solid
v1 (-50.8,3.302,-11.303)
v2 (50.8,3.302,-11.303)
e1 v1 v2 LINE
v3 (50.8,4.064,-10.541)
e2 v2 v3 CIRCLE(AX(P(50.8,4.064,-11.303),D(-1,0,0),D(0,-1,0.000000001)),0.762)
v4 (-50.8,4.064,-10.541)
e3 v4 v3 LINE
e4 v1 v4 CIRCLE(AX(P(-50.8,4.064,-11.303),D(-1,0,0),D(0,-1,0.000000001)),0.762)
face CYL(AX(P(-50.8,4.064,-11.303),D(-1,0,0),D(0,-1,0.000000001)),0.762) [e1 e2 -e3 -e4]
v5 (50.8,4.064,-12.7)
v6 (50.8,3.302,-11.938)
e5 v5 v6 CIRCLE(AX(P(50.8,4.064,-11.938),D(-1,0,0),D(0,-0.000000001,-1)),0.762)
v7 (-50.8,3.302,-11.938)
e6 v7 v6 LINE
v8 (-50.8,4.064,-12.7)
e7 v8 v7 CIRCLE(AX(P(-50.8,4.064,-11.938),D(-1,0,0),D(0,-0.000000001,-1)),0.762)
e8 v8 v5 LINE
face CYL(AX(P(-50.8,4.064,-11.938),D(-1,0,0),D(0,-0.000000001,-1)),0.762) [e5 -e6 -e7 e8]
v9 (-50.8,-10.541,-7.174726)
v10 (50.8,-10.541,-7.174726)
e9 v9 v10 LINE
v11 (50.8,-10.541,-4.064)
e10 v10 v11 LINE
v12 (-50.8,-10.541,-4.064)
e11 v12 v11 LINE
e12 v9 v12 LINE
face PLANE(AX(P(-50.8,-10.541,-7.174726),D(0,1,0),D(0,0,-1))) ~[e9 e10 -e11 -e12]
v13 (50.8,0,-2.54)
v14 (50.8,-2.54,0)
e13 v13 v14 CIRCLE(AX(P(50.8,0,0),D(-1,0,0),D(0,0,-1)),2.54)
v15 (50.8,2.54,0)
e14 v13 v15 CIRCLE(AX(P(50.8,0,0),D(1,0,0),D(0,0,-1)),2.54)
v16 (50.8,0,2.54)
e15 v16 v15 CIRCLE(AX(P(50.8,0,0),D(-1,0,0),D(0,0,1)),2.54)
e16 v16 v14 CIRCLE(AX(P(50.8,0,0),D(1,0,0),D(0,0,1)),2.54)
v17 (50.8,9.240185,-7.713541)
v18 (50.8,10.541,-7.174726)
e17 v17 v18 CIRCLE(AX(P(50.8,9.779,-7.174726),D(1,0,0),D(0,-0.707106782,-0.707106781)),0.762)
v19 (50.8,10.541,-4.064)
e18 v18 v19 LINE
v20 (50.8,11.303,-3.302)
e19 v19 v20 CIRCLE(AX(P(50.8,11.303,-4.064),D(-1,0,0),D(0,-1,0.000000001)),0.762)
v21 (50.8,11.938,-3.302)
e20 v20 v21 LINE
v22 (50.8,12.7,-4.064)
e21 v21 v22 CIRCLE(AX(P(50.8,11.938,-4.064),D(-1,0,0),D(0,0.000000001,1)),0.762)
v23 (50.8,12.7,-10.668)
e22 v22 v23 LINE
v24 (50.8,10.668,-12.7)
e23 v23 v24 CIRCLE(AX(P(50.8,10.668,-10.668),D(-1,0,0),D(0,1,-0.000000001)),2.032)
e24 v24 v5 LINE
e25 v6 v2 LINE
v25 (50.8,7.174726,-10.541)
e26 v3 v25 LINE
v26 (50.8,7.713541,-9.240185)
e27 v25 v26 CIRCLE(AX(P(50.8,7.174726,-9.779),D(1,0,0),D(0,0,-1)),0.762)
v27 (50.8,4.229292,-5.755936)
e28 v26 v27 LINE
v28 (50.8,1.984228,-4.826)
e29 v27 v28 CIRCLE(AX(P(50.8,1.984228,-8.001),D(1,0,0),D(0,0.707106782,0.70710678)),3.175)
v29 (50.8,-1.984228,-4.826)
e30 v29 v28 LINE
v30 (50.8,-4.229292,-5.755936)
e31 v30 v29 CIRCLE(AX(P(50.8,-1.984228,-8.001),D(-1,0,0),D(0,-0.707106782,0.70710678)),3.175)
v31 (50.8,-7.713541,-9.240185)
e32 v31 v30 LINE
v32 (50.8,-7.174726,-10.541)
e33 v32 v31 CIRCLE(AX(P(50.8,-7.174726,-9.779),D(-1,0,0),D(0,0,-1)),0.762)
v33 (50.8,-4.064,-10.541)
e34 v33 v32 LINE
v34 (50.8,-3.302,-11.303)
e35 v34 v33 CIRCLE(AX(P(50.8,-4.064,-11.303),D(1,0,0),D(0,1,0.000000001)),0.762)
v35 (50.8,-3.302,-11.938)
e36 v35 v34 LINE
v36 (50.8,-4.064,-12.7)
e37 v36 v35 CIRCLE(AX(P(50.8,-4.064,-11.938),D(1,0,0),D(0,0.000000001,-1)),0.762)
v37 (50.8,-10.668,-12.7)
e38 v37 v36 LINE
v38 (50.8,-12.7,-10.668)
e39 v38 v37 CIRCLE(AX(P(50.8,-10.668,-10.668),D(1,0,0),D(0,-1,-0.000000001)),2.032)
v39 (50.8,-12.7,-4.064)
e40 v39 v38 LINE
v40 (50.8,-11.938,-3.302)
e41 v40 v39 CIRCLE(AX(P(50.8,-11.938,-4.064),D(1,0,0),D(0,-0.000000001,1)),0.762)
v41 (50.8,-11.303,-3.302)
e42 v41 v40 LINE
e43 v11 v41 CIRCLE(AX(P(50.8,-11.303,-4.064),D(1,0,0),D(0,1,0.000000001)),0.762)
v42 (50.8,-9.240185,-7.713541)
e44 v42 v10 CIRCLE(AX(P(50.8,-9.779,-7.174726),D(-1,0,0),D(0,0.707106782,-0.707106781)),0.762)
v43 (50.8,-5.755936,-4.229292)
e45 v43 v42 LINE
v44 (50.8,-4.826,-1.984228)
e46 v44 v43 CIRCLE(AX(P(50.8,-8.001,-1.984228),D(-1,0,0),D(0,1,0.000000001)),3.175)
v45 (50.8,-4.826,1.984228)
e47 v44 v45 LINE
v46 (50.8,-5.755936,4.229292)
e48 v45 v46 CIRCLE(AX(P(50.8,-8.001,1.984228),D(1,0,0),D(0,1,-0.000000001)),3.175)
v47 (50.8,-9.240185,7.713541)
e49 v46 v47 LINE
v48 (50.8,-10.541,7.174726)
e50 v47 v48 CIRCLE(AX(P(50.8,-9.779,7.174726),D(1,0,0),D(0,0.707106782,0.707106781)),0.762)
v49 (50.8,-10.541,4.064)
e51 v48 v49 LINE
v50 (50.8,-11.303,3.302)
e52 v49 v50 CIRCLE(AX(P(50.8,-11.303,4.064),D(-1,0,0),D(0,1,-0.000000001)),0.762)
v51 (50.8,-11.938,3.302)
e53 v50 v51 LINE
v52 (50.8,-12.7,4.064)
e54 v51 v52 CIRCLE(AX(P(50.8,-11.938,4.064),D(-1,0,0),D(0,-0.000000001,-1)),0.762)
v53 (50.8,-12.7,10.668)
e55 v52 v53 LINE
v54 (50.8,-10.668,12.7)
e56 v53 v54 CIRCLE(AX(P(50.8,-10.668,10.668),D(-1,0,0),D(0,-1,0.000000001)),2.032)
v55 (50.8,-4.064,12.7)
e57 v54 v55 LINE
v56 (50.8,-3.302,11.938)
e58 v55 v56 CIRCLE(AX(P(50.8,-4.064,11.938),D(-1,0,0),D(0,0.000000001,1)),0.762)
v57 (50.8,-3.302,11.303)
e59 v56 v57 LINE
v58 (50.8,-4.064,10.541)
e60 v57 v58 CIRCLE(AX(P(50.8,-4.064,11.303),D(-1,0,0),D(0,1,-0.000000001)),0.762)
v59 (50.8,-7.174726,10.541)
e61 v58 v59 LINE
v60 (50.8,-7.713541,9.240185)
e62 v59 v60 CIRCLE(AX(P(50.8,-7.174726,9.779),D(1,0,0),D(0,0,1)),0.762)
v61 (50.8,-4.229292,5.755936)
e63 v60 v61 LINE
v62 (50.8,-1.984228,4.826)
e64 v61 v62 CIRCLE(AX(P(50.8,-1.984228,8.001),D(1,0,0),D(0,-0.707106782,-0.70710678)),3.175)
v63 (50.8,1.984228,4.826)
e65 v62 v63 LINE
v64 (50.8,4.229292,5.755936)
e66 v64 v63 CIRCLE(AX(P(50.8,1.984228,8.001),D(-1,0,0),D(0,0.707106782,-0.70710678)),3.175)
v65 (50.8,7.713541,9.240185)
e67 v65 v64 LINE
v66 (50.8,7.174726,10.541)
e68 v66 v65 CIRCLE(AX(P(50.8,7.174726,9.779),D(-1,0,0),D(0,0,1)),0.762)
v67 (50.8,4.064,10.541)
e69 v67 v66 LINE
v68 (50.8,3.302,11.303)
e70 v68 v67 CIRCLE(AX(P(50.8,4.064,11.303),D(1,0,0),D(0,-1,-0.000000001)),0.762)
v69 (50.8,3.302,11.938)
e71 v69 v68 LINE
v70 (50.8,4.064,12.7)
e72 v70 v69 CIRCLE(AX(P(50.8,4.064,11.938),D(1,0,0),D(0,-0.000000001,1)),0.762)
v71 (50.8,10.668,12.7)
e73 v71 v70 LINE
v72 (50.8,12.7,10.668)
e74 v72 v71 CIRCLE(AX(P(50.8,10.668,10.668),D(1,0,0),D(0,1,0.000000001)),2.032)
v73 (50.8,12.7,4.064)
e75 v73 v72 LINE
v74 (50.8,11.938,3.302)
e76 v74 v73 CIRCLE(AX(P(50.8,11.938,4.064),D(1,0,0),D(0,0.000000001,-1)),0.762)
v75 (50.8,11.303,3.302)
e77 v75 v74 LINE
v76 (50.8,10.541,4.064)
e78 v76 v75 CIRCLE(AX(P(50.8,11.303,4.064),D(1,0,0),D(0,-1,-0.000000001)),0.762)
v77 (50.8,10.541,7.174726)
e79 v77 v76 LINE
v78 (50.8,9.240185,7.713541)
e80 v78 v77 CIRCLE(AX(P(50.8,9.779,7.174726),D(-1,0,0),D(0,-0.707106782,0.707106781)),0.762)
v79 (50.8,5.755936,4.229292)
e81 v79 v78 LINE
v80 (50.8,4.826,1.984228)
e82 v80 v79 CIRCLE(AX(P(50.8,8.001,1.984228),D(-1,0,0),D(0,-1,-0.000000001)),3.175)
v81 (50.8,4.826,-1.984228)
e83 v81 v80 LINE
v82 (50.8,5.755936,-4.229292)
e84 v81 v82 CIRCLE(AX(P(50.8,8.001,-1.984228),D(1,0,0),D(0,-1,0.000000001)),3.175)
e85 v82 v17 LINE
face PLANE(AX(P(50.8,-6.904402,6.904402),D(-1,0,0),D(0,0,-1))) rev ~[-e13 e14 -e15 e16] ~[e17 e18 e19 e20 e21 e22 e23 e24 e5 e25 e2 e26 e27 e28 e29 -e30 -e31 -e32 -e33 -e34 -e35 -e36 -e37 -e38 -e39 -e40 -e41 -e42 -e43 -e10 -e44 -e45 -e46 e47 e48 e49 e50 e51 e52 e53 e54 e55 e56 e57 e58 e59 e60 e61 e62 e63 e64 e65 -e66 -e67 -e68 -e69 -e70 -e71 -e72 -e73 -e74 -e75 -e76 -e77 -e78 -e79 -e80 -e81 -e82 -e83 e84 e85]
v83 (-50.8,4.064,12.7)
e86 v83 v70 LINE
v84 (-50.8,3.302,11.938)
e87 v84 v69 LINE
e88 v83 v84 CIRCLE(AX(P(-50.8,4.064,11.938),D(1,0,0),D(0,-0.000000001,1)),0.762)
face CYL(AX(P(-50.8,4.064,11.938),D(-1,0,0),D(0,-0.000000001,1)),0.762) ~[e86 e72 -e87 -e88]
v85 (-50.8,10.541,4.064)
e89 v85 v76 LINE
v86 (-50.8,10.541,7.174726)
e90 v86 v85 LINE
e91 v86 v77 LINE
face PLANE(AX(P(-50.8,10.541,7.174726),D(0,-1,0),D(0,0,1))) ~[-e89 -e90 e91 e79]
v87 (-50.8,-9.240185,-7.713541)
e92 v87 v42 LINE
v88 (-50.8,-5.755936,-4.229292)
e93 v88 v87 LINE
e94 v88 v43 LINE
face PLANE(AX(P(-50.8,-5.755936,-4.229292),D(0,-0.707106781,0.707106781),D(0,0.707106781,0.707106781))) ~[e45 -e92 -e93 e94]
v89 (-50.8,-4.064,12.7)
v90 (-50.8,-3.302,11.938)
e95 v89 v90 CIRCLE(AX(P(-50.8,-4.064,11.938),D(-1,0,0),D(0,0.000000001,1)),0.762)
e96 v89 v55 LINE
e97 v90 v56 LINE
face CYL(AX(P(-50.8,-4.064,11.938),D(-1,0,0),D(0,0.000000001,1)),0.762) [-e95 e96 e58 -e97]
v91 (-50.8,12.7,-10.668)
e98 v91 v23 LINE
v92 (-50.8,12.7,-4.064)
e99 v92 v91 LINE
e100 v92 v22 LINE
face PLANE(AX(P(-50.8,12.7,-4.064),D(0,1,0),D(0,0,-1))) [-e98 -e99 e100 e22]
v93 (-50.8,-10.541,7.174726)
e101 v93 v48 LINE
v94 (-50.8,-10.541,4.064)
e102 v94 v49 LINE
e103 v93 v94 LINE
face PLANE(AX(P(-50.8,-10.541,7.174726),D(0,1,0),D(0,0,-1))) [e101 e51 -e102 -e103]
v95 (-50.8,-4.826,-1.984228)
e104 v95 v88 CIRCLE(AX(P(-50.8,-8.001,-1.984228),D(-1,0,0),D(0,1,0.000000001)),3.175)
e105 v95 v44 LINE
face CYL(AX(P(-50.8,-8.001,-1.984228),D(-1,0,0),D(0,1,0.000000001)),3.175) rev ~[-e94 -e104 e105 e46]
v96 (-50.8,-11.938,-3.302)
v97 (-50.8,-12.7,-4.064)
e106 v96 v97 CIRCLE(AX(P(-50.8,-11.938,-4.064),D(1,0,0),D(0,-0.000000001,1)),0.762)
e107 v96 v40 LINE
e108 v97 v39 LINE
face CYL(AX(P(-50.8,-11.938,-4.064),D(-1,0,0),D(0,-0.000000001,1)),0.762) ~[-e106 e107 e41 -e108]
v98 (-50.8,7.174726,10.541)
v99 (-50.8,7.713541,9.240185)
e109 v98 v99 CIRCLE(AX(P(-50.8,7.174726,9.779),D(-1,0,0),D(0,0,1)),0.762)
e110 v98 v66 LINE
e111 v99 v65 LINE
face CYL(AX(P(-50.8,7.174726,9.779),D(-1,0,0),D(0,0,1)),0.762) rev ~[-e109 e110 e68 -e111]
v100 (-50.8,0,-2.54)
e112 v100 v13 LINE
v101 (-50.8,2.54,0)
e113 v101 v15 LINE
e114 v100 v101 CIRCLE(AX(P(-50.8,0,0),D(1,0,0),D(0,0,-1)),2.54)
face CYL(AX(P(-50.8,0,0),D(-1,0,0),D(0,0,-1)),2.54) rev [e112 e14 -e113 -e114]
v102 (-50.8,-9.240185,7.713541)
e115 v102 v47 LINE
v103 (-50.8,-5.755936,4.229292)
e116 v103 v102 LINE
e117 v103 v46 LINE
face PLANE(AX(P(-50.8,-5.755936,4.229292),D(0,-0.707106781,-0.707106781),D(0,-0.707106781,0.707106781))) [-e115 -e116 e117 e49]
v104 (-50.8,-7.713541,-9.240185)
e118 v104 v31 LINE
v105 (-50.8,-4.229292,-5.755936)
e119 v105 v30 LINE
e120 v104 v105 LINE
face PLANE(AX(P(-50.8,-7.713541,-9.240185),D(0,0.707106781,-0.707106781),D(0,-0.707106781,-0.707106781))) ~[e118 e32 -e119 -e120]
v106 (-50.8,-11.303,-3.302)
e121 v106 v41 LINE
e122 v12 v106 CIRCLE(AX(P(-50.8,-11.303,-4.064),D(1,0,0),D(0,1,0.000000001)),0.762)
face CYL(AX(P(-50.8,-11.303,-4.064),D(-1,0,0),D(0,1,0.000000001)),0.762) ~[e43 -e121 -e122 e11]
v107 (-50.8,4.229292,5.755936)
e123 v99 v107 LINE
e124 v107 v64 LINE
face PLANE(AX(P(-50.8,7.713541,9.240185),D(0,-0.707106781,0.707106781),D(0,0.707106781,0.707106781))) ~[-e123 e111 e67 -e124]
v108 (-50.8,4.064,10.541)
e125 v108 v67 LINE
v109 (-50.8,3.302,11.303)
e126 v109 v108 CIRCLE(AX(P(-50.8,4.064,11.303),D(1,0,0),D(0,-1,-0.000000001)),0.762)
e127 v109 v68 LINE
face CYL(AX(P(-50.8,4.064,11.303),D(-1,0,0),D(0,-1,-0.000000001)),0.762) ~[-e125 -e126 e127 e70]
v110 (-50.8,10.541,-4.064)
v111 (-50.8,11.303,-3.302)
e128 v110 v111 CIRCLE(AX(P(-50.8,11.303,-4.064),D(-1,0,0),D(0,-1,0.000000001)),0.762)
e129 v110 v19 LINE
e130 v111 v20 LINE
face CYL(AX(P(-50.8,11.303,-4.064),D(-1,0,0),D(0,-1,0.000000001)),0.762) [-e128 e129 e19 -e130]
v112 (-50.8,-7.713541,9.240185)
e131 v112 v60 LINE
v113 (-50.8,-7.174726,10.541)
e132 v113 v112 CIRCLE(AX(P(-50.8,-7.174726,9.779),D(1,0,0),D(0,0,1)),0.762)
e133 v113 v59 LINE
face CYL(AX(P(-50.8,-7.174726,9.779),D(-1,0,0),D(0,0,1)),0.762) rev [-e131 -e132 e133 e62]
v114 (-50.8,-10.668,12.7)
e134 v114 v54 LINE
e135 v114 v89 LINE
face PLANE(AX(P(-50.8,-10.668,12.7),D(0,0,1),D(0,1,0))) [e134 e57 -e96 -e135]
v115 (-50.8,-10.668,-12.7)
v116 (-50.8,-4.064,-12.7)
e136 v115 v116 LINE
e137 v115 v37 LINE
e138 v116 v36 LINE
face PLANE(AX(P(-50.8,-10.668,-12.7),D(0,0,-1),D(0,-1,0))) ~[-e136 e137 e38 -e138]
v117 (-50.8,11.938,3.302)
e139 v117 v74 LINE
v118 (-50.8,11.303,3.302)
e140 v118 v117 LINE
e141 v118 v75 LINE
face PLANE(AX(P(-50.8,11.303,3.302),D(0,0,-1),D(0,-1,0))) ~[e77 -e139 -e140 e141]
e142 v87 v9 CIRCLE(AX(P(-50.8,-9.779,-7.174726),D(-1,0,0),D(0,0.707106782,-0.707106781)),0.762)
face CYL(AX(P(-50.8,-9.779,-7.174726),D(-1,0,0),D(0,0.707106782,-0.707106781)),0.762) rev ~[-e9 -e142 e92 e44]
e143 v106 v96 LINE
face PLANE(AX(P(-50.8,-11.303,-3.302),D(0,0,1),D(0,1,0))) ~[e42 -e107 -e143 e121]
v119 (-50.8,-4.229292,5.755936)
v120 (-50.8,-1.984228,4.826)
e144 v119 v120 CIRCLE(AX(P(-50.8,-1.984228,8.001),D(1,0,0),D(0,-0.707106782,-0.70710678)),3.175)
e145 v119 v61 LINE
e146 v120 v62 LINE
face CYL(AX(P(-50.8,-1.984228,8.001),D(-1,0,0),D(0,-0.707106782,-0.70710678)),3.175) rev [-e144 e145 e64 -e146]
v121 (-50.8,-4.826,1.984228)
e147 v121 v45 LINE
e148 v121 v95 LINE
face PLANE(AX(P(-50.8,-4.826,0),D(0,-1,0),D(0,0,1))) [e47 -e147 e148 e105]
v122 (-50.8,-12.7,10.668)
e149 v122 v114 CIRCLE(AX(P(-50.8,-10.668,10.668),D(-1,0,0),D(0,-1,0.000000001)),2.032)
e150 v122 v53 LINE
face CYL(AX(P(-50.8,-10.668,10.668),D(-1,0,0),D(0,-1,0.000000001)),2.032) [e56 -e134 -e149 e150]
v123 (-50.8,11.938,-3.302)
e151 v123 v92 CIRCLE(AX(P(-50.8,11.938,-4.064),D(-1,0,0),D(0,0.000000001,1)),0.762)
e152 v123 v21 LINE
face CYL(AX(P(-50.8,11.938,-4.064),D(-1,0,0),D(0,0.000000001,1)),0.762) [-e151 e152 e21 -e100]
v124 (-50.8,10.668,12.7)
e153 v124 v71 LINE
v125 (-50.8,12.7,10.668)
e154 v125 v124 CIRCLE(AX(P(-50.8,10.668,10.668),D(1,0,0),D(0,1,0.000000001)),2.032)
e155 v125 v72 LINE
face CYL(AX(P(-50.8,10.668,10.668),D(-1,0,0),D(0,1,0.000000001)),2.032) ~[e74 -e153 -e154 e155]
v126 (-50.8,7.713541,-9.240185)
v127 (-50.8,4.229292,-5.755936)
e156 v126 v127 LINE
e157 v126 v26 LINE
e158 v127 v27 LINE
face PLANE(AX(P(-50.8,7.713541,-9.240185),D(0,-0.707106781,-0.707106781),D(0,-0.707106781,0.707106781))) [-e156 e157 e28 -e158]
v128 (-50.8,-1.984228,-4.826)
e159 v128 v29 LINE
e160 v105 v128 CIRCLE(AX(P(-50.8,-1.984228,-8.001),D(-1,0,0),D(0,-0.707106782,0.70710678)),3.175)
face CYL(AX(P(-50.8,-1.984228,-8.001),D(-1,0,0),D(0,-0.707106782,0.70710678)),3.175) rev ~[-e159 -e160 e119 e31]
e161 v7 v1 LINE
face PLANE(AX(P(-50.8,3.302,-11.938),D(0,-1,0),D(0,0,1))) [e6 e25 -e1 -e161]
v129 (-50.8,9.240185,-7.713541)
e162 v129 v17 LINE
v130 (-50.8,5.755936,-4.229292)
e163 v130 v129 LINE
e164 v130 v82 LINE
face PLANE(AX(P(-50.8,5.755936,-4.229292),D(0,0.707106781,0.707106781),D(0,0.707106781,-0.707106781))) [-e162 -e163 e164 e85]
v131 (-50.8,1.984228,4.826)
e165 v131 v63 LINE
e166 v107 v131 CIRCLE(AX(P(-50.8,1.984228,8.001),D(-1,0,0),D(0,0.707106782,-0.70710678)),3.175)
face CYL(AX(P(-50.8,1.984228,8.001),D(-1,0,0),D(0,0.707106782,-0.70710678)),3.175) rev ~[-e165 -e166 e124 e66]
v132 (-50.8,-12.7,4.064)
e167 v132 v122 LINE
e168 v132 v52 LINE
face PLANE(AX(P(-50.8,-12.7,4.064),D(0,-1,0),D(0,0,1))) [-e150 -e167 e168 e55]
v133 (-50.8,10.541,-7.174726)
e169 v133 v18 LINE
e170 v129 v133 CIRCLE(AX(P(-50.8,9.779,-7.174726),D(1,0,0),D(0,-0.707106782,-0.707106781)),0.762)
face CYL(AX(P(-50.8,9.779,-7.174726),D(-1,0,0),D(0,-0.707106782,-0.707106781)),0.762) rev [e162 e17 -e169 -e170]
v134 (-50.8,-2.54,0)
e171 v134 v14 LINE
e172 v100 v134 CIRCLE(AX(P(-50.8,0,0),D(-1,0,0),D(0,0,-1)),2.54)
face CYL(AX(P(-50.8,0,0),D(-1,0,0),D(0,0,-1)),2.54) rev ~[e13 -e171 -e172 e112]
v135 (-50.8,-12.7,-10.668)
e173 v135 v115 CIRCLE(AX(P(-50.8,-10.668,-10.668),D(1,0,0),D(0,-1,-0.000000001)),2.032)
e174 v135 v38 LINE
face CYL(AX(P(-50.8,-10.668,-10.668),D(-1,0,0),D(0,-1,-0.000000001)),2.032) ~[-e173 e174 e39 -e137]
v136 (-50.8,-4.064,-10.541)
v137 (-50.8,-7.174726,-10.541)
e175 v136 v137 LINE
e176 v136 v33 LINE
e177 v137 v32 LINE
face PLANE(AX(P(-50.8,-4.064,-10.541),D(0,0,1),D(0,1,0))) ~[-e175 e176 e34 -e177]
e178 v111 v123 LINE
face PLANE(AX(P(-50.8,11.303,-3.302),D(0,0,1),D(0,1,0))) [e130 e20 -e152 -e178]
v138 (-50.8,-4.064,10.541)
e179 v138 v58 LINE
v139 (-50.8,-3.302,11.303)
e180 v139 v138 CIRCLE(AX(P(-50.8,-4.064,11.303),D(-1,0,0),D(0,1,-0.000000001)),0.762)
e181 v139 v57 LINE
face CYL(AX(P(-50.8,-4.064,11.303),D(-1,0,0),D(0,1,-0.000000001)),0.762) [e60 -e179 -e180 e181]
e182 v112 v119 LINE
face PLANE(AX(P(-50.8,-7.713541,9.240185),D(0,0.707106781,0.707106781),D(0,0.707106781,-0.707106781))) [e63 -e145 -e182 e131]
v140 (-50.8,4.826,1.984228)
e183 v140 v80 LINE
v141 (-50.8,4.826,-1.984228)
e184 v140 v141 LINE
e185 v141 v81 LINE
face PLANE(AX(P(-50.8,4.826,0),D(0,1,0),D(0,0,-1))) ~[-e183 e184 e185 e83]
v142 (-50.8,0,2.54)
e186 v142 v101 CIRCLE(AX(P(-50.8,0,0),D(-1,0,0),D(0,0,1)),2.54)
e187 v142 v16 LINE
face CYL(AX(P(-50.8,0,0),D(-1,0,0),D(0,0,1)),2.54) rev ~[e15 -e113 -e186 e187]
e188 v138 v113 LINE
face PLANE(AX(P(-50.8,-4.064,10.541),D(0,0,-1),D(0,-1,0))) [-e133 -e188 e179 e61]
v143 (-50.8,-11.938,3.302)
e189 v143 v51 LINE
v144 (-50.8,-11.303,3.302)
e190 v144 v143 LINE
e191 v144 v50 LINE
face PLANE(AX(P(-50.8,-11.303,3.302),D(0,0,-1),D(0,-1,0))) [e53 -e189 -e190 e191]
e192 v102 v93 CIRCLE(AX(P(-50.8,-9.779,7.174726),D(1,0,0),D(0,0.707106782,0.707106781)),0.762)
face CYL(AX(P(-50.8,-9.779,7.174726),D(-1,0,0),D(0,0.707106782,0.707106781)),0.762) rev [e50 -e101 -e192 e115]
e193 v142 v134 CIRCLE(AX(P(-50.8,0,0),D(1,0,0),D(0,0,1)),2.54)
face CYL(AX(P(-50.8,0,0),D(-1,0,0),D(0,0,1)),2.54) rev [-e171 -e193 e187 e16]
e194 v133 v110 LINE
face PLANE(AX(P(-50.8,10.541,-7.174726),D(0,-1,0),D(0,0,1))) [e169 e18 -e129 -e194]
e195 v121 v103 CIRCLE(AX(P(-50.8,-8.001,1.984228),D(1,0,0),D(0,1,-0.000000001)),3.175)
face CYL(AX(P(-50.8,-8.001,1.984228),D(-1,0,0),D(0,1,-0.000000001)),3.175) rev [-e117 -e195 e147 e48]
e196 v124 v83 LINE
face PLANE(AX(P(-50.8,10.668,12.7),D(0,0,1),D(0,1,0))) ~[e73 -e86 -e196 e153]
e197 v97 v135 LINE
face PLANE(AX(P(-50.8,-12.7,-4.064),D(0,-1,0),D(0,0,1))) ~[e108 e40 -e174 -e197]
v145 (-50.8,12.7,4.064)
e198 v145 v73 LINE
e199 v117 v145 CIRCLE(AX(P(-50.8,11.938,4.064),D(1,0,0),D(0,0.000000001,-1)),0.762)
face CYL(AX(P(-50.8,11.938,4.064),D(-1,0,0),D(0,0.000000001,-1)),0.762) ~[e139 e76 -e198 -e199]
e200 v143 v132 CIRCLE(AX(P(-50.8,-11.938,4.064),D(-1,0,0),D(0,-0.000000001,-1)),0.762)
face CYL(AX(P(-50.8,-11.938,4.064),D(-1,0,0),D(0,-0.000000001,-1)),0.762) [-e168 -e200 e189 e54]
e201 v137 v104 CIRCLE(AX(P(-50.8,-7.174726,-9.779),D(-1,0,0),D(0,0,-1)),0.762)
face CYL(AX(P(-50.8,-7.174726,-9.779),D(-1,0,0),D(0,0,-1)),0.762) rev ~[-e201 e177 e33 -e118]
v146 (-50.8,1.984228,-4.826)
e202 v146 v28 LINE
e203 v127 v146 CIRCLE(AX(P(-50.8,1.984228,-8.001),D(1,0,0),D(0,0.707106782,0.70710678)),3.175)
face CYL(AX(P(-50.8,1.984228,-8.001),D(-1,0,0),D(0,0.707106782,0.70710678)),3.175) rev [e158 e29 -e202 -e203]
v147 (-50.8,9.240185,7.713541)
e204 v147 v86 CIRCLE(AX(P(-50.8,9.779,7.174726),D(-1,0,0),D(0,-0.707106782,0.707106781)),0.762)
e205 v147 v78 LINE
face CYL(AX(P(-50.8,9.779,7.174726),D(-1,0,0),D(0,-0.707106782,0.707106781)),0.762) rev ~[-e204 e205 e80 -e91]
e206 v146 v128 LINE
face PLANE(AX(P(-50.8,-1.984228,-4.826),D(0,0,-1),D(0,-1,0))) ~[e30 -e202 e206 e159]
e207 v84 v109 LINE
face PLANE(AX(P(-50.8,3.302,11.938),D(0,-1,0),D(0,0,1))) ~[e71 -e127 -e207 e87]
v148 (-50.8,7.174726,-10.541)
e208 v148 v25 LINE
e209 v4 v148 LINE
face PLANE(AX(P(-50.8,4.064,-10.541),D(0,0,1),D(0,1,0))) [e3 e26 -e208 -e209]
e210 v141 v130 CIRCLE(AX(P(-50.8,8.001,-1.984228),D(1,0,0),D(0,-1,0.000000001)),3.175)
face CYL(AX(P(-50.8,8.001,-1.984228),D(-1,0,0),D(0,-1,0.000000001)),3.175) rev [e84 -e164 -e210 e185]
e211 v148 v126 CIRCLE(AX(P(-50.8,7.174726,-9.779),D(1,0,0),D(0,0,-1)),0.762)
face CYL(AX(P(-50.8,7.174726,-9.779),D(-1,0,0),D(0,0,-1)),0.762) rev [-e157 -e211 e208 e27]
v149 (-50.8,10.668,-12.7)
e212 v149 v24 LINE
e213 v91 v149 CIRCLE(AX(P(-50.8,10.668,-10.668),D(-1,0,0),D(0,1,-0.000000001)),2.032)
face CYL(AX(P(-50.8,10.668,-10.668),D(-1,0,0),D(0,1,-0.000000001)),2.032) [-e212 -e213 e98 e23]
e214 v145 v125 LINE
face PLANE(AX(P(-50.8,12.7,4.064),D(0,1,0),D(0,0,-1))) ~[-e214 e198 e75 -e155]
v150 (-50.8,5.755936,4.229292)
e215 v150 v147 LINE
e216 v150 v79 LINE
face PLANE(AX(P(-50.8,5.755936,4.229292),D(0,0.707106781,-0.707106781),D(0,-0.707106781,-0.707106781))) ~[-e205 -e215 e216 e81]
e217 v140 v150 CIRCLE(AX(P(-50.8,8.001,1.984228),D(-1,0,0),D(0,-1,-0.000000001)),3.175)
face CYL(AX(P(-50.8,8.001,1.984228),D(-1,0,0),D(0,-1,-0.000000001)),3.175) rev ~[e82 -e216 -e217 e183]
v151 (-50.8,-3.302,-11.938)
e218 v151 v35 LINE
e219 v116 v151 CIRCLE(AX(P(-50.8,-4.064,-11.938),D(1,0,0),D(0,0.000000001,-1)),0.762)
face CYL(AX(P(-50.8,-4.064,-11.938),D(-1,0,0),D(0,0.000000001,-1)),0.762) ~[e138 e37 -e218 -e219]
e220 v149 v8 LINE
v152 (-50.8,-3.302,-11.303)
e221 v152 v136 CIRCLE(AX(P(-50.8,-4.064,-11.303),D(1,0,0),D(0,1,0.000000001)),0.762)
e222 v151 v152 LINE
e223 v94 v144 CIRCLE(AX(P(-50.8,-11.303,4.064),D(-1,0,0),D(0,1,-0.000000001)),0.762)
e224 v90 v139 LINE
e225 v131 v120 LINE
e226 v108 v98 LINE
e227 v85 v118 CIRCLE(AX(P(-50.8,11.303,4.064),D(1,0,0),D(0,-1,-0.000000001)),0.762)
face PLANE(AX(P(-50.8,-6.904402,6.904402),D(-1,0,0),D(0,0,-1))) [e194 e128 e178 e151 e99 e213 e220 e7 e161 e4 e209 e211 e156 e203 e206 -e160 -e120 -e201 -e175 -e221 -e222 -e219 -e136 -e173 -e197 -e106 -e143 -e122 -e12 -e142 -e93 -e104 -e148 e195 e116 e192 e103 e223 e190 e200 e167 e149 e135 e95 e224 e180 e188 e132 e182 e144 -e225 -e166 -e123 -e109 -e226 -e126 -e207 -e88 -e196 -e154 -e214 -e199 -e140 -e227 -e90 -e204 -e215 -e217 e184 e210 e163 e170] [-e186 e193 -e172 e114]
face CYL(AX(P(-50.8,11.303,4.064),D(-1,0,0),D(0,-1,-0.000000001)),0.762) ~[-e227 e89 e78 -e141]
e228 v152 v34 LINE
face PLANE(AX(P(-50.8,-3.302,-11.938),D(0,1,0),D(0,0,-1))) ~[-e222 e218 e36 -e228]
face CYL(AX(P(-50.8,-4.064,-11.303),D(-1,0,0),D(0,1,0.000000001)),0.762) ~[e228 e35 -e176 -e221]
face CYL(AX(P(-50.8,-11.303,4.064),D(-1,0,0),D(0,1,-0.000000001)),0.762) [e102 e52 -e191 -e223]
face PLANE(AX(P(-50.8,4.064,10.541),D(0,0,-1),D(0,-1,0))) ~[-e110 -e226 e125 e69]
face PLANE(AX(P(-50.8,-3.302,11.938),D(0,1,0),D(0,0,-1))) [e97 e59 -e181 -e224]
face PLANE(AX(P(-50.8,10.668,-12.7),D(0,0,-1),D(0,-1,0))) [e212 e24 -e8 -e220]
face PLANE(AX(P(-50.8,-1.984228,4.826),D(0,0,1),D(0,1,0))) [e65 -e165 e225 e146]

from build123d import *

# Parameters (mm, degrees)
BOSS_EXTRUDE1_DEPTH      = 50.8
BOSS_EXTRUDE1_DEPTH_BACK = 50.8


with BuildPart() as part:
    # Sketch3 → Boss-Extrude1 (new, two sides: drawn at the far end of the back side and taken through both)
    with BuildSketch(Plane(origin=(0, 0, 0), x_dir=(0, 0, -1), z_dir=(1, 0, 0)).offset(-BOSS_EXTRUDE1_DEPTH_BACK)):
        with BuildLine():
            Line((0, 4.826), (1.984228399, 4.826))
            ThreePointArc((1.984228399, 4.826), (3.199248297, 5.067682484), (4.229292429, 5.75593597))
            Line((4.229292429, 5.75593597), (7.713541092, 9.240184633))
            ThreePointArc((7.713541092, 9.240184633), (7.878721929, 10.070604775), (7.174725725, 10.541))
            Line((7.174725725, 10.541), (4.064, 10.541))
            ThreePointArc((4.064, 10.541), (3.525184633, 10.764184633), (3.302, 11.303))
            Line((3.302, 11.303), (3.302, 11.938))
            ThreePointArc((3.302, 11.938), (3.525184633, 12.476815367), (4.064, 12.7))
            Line((4.064, 12.7), (10.668, 12.7))
            ThreePointArc((10.668, 12.7), (12.104840979, 12.104840979), (12.7, 10.668))
            Line((12.7, 10.668), (12.7, 4.064))
            ThreePointArc((12.7, 4.064), (12.476815367, 3.525184633), (11.938, 3.302))
            Line((11.938, 3.302), (11.303, 3.302))
            ThreePointArc((11.303, 3.302), (10.764184633, 3.525184633), (10.541, 4.064))
            Line((10.541, 4.064), (10.541, 7.174725725))
            ThreePointArc((10.541, 7.174725725), (10.070604775, 7.878721929), (9.240184633, 7.713541092))
            Line((9.240184633, 7.713541092), (5.75593597, 4.229292429))
            ThreePointArc((5.75593597, 4.229292429), (5.067682484, 3.199248297), (4.826, 1.984228399))
            Line((4.826, 1.984228399), (4.826, 0))
            Line((4.826, 0), (2.54, 0))
            ThreePointArc((2.54, 0), (1.796051224, 1.796051224), (0, 2.54))
            Line((0, 2.54), (0, 4.826))
        make_face()
    extrude(amount=BOSS_EXTRUDE1_DEPTH + BOSS_EXTRUDE1_DEPTH_BACK)

    # Mirror1: part across plane


with BuildPart() as part_1:
    add(part.part)
    add(part.part.mirror(Plane.ZX))

    # Mirror2: part across plane


with BuildPart() as part_2:
    add(part_1.part)
    add(part_1.part.mirror(Plane.XY))


solid = part_2.part
